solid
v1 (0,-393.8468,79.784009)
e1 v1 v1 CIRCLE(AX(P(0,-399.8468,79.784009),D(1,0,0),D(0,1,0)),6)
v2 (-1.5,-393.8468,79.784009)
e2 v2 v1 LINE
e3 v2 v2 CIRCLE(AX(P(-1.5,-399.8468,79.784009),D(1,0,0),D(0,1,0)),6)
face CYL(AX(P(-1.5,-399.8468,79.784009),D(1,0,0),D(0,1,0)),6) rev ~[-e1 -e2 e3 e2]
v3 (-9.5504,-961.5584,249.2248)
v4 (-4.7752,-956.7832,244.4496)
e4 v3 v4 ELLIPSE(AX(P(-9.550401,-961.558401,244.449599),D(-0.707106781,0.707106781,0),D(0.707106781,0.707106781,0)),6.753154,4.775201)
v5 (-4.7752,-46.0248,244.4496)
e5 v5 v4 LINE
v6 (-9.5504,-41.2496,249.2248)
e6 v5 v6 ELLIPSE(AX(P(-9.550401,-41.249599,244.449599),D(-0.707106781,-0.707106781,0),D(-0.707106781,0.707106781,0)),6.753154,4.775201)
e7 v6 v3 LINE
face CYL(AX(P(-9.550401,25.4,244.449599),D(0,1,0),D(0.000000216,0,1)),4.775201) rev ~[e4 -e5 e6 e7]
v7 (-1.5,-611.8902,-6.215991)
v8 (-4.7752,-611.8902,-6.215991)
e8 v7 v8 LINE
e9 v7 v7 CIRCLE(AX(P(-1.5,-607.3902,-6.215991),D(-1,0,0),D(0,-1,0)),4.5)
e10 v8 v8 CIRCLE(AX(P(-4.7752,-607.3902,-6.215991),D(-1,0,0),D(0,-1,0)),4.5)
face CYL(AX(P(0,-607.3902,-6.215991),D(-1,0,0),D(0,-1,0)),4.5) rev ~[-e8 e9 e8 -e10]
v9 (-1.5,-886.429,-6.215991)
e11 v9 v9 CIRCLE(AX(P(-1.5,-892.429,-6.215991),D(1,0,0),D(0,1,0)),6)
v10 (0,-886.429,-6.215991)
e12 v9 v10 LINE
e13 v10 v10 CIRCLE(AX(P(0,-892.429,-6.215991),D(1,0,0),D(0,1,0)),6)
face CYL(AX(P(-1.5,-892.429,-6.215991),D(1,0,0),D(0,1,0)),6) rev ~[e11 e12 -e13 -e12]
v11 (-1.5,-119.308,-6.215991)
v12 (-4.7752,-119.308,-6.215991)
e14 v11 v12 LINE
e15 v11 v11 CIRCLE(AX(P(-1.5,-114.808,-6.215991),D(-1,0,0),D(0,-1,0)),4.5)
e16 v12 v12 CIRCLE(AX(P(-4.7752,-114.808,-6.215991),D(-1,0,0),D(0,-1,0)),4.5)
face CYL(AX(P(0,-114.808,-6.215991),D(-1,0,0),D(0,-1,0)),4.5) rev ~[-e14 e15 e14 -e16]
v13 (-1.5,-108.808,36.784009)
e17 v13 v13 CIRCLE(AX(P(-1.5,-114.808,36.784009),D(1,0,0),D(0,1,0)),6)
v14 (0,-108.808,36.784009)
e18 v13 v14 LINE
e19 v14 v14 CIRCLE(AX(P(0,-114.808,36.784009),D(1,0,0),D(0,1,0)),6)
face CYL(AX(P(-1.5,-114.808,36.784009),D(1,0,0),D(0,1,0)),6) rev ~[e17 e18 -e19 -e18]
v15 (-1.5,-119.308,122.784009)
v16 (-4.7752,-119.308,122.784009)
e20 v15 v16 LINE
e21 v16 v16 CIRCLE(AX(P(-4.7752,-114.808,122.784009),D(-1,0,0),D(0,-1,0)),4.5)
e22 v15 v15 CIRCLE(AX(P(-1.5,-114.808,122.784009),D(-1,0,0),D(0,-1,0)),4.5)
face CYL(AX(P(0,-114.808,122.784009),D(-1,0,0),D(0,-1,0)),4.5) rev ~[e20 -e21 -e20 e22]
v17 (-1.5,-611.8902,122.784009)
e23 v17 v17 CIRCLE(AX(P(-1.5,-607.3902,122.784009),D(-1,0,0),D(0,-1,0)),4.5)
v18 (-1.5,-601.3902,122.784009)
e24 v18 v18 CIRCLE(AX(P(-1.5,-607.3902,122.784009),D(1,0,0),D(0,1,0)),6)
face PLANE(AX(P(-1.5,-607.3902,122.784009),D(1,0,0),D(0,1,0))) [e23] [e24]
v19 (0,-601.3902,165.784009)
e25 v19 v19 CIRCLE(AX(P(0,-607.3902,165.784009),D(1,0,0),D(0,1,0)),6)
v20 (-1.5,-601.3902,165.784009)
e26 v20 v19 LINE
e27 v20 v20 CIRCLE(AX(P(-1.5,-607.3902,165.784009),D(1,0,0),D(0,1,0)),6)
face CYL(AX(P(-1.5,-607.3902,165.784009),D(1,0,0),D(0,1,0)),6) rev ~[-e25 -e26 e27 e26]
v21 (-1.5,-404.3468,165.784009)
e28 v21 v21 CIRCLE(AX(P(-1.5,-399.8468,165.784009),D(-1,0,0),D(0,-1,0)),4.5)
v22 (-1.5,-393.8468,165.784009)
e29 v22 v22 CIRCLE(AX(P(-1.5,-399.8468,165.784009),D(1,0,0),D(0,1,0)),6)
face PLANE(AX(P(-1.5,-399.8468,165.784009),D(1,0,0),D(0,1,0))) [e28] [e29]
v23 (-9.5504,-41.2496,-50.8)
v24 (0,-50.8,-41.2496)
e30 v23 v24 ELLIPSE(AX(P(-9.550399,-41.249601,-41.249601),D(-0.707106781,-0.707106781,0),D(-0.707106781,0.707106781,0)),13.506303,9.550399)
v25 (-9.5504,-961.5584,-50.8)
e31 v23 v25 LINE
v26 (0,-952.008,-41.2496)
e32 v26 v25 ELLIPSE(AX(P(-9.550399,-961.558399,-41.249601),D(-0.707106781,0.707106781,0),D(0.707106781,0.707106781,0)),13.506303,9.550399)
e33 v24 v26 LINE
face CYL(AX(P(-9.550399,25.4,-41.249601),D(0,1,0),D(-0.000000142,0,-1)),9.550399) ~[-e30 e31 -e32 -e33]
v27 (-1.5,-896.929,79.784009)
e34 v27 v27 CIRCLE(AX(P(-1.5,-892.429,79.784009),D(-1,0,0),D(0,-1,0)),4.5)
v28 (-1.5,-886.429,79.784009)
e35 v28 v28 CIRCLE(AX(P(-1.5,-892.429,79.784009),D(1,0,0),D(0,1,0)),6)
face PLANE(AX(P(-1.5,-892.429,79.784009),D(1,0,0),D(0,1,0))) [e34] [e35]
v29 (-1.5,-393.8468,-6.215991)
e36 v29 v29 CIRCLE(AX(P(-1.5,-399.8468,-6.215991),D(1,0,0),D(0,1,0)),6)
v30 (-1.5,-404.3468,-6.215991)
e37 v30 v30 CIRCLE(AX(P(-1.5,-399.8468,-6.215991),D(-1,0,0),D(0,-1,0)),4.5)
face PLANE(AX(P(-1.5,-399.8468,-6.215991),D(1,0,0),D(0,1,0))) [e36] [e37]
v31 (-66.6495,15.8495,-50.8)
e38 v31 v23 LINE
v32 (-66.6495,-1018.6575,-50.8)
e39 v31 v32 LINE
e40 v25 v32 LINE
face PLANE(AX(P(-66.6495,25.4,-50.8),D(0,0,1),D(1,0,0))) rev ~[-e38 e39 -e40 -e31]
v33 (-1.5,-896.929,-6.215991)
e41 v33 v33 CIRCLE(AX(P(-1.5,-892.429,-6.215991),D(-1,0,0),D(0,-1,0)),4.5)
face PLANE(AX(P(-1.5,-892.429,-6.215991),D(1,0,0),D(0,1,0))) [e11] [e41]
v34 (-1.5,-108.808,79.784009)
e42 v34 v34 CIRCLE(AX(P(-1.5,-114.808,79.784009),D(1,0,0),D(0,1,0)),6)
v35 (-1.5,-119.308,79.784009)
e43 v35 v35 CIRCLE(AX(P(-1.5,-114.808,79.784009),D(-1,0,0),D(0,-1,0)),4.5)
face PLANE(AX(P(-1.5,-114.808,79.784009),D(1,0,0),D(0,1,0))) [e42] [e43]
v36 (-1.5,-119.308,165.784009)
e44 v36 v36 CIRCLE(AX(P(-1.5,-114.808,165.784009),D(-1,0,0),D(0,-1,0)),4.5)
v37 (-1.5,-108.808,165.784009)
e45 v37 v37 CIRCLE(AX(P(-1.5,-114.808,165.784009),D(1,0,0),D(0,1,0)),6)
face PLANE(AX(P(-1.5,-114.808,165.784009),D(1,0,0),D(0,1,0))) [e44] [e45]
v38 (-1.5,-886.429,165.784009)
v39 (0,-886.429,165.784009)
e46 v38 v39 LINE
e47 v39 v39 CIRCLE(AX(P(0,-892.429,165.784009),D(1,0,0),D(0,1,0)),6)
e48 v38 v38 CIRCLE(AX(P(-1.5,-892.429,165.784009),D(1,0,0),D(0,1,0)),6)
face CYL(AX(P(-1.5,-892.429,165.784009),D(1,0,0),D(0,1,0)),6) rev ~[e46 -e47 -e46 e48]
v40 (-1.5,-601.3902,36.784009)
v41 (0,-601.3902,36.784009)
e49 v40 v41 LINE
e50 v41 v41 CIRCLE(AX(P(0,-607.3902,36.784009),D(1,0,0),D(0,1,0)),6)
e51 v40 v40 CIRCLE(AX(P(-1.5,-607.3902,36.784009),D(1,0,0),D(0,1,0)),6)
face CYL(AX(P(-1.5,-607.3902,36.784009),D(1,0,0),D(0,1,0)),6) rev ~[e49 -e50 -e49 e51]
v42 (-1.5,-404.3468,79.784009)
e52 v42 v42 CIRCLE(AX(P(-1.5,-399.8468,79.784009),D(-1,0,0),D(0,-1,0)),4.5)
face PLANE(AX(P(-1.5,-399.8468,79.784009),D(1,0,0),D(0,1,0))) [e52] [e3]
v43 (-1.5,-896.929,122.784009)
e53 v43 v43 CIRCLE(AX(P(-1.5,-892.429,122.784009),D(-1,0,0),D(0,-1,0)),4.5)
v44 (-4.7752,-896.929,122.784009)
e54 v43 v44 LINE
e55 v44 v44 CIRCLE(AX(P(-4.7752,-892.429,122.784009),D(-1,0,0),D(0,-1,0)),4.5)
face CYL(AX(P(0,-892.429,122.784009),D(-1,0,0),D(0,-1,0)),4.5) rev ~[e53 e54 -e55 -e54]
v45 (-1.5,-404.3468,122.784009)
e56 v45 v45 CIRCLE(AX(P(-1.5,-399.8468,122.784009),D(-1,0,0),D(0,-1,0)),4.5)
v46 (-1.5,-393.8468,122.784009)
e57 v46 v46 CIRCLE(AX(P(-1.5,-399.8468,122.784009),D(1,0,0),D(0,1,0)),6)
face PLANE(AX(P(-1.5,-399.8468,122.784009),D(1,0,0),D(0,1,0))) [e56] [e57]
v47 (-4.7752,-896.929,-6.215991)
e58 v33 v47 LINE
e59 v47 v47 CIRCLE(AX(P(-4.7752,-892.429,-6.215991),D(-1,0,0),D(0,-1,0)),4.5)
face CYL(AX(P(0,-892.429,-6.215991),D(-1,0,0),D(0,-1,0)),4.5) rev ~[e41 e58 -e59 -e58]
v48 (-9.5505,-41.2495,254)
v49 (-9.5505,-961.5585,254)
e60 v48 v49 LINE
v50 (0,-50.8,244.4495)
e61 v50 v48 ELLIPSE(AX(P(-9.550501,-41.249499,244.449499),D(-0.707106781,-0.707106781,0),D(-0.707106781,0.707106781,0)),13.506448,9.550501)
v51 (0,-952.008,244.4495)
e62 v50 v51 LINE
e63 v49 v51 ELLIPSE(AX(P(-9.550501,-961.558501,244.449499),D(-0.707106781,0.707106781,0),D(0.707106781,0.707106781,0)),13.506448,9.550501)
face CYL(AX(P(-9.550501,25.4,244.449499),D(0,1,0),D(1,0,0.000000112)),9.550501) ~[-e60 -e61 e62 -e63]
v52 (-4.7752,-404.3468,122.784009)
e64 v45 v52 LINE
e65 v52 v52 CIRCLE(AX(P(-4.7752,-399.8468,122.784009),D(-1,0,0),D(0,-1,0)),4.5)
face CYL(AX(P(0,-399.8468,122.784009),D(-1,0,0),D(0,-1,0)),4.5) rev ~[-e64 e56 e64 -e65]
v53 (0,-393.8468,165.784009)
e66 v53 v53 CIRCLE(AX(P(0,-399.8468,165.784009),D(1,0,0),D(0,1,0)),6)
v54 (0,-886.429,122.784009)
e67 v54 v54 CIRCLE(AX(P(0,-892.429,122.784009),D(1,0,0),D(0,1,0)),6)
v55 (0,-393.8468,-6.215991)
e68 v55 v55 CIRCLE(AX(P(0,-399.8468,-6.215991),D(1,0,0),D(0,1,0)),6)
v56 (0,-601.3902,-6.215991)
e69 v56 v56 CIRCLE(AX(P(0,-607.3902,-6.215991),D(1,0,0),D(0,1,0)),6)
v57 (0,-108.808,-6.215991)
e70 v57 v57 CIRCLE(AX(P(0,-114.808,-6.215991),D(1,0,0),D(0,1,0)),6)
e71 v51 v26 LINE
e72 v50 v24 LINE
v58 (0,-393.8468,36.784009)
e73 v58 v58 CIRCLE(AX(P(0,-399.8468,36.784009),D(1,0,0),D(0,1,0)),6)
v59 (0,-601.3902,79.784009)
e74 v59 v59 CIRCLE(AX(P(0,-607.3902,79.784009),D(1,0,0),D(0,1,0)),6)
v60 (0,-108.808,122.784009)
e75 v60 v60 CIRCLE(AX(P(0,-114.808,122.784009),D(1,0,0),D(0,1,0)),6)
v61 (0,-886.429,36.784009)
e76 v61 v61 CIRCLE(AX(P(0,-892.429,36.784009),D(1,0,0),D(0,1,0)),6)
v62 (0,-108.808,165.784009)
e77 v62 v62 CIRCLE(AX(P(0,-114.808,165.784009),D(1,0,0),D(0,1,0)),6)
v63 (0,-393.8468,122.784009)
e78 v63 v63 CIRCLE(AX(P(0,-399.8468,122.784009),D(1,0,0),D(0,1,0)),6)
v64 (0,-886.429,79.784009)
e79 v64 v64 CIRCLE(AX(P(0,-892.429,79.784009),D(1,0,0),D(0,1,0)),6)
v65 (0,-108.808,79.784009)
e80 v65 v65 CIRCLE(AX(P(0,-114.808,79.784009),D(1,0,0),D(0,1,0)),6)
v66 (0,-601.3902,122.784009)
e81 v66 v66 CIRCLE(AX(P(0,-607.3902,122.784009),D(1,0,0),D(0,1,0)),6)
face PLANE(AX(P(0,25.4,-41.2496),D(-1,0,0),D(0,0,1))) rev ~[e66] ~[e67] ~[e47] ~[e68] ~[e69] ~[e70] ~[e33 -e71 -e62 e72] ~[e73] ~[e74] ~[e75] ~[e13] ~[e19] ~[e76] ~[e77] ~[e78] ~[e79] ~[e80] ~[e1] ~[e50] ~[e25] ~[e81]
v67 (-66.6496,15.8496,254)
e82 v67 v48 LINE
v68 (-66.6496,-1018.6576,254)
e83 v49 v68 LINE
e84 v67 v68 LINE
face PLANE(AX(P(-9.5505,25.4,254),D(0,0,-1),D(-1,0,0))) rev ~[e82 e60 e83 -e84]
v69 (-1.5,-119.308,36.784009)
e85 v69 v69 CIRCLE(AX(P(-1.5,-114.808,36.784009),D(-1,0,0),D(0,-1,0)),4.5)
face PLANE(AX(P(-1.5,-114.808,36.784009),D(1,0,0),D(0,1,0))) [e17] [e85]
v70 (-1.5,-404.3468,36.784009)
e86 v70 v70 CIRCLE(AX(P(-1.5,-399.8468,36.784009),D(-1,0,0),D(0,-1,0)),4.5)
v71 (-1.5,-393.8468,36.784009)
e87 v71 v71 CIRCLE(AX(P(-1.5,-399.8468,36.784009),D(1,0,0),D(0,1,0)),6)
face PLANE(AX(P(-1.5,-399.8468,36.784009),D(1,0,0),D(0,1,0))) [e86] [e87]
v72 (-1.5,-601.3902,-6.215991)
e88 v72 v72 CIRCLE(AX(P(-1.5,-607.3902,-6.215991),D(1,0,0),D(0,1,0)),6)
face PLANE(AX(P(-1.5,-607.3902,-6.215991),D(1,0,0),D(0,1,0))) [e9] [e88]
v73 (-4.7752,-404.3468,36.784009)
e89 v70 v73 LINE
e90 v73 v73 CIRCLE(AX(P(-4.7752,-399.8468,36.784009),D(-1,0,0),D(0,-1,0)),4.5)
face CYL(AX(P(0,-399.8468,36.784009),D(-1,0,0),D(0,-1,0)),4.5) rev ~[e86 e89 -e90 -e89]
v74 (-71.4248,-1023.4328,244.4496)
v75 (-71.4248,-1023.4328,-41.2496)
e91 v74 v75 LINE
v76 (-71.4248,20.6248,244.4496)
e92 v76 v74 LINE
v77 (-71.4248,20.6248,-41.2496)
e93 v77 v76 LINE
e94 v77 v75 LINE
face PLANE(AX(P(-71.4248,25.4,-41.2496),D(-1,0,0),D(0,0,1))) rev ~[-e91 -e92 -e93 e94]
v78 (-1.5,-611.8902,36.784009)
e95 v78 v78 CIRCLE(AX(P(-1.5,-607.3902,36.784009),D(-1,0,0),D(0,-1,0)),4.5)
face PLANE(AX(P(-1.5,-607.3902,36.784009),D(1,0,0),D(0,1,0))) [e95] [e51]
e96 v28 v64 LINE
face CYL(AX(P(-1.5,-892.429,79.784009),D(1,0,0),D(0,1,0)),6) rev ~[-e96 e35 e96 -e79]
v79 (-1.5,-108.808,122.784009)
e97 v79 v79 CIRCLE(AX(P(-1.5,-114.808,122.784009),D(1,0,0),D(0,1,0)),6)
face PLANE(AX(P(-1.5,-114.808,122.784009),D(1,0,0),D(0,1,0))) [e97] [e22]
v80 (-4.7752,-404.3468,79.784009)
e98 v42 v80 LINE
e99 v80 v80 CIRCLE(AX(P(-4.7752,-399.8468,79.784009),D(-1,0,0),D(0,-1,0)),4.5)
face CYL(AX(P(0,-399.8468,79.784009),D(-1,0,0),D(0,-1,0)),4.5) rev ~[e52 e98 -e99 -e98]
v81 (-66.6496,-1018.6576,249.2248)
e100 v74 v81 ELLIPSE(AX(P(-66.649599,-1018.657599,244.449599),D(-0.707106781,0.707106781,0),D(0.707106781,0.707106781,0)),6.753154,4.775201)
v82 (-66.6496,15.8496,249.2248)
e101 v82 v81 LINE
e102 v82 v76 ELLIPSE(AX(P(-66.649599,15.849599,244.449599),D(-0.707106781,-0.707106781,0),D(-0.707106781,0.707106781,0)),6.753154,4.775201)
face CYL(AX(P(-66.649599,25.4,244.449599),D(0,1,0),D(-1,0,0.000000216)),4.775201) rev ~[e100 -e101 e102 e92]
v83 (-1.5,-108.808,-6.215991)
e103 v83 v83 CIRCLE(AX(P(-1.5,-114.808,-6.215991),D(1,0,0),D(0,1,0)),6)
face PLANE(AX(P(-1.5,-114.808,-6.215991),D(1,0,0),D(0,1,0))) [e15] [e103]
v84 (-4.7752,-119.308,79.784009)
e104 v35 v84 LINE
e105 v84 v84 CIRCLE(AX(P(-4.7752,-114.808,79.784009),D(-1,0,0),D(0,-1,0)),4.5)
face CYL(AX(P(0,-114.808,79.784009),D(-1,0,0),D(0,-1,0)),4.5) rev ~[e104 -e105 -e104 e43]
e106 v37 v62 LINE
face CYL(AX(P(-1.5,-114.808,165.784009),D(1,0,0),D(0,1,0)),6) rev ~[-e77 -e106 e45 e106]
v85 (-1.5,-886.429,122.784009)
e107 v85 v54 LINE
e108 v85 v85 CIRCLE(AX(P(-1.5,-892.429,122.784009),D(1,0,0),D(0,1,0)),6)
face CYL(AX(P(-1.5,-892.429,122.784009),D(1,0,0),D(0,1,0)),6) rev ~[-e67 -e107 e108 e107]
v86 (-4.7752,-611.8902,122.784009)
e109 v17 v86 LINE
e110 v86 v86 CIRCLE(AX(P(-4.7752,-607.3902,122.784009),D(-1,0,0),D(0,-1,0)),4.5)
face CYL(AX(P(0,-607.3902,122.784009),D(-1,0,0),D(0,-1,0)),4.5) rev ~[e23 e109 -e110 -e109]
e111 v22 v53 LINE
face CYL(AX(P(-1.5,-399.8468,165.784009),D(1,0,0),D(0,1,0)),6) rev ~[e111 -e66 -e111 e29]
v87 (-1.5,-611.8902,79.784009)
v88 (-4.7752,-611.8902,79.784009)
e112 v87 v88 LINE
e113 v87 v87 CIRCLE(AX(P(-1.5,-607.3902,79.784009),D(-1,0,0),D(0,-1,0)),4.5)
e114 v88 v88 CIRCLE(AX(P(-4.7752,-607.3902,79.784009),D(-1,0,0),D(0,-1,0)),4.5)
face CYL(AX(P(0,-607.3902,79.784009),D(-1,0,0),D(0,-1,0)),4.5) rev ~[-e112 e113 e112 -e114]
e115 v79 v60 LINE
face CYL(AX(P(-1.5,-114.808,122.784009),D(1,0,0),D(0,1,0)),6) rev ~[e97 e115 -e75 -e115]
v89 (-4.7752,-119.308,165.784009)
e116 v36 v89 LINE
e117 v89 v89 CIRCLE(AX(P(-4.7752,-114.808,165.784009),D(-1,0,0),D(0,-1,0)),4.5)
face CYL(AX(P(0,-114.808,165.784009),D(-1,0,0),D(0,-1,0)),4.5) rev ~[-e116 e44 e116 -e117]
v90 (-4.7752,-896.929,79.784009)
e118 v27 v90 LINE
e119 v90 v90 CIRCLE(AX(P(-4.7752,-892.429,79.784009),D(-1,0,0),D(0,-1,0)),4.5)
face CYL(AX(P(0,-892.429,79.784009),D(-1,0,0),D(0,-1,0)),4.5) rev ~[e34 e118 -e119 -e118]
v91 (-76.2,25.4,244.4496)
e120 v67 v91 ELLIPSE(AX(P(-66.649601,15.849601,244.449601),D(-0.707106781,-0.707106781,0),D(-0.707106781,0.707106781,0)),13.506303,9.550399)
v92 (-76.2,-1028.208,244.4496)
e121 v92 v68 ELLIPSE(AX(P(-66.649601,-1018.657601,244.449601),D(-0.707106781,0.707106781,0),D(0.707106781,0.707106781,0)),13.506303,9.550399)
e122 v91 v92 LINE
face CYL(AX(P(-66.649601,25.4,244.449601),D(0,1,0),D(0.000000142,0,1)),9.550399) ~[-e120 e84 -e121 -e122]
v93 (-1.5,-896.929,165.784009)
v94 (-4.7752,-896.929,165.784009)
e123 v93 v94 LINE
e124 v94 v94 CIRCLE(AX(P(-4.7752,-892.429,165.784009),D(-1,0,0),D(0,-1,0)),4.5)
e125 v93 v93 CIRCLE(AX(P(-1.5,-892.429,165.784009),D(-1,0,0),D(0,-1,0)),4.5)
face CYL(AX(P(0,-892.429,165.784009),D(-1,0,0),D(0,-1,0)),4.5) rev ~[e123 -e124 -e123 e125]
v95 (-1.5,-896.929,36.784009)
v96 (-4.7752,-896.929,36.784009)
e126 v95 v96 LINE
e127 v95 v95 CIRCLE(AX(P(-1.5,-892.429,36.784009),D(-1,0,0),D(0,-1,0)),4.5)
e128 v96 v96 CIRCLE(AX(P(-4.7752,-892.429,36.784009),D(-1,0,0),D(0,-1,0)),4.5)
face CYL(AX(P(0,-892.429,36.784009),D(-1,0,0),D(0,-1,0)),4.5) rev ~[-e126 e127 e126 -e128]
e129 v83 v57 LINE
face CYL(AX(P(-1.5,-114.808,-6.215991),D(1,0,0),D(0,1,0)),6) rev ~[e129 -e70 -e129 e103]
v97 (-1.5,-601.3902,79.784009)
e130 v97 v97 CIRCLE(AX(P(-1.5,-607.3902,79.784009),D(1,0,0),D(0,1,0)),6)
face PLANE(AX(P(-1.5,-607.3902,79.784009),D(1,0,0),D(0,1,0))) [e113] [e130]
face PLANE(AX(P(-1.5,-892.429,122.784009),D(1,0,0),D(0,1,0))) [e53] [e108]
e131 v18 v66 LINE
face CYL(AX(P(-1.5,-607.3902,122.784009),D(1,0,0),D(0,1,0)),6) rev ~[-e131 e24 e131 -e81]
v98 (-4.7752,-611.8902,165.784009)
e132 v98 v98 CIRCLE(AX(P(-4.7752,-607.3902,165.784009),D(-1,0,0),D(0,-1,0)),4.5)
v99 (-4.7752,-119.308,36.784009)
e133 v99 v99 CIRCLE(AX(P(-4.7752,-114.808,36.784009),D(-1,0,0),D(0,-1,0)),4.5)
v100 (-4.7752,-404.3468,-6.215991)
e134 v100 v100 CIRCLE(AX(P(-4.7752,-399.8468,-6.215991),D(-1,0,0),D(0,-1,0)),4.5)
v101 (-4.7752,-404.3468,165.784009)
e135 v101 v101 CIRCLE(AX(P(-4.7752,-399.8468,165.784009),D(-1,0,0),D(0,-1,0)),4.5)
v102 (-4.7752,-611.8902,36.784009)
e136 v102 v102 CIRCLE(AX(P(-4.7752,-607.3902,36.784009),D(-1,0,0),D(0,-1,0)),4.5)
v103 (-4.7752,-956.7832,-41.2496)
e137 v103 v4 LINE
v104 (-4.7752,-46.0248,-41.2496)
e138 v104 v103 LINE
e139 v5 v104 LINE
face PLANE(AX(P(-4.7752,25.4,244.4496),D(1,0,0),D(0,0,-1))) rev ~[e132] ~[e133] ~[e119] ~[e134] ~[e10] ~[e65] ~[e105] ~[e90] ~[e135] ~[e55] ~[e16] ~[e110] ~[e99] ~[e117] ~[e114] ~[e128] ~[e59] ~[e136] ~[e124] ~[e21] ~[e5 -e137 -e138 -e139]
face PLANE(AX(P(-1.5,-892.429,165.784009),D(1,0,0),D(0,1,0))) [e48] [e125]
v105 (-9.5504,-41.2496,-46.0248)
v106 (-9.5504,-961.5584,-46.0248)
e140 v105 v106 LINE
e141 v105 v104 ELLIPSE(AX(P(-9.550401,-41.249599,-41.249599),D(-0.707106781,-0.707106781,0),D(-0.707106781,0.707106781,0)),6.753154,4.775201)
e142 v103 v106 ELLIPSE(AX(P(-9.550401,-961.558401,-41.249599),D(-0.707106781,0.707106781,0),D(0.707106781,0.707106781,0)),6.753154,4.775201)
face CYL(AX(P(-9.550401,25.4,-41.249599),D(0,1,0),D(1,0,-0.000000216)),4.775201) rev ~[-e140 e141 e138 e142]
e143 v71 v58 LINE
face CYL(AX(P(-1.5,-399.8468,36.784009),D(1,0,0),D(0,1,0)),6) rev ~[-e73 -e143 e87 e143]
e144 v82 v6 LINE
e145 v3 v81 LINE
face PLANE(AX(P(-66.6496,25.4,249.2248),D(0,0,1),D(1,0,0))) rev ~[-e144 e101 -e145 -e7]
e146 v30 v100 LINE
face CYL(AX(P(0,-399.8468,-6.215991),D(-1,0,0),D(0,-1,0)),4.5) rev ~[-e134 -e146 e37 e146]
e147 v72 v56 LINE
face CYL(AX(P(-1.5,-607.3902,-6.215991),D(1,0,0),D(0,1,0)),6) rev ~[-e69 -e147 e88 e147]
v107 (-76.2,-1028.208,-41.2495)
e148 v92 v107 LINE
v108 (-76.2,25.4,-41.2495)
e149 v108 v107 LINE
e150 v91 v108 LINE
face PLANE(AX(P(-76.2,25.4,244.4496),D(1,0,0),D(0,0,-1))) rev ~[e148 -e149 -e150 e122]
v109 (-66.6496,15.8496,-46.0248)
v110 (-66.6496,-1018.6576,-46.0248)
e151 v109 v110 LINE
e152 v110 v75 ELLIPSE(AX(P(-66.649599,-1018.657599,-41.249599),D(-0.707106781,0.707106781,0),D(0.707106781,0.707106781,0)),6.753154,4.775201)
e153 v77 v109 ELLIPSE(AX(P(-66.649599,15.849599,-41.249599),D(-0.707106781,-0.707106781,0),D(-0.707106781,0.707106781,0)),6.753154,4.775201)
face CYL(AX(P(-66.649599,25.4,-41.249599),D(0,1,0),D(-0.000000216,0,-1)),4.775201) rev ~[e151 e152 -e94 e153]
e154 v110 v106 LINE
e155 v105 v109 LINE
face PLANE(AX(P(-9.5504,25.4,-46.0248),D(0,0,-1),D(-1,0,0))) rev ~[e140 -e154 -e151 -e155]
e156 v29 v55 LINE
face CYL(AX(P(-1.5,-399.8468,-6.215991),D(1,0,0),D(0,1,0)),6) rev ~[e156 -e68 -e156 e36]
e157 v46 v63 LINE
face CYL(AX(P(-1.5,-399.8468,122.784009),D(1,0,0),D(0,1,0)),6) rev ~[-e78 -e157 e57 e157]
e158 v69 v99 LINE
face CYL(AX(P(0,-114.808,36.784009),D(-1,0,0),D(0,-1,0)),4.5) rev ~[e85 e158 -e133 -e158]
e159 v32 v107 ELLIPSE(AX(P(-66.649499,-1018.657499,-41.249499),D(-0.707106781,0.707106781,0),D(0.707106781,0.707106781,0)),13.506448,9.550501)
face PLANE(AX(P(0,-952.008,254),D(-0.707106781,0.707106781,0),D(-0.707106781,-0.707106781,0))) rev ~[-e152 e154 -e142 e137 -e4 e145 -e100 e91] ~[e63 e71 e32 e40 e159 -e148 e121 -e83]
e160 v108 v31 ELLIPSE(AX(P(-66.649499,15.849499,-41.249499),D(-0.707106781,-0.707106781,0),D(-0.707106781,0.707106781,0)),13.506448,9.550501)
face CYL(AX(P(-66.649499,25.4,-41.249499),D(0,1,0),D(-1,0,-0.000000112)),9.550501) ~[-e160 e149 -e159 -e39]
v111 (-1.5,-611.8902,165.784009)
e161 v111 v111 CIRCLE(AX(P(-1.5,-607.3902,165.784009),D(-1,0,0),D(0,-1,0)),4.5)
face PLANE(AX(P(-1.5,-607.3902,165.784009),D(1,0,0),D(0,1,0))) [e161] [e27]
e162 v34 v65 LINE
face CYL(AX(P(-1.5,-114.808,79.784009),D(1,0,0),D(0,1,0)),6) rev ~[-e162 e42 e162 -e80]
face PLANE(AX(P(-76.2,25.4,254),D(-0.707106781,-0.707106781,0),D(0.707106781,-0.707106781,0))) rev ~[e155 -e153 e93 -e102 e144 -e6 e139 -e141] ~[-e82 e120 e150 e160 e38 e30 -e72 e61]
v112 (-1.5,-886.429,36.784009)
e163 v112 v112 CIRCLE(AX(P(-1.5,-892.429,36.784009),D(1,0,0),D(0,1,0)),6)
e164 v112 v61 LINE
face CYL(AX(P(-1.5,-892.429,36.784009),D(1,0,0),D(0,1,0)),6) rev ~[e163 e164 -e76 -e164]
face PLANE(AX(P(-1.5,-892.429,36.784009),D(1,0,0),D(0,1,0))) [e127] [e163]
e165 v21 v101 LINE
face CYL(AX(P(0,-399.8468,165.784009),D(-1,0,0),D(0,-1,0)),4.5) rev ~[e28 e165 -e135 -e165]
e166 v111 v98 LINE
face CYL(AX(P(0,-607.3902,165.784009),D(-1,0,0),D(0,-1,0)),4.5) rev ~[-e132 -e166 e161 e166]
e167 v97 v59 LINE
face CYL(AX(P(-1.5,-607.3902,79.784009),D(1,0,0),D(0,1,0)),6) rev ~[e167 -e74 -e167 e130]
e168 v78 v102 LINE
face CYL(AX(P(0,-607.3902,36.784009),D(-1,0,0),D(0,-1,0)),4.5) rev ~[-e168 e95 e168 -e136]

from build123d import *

# Parameters (mm, degrees)
F1_DEPTH       = 1121.496
F3_DEPTH       = 304.801
F6_D           = 9
F6_DEPTH       = 10
F6_CBORE_D     = 12
F6_CBORE_DEPTH = 1.5
F8_DEPTH       = 304.8


with BuildPart() as f1:
    # F0 (on Front) → F1 (new body)
    with BuildSketch(Plane.XZ):
        with BuildLine():
            Line((-66.6495, -50.8), (-9.5504, -50.8))
            ThreePointArc((-9.5504, -50.8), (-2.797247, -48.002753), (0, -41.2496))
            Line((0, -41.2496), (0, 244.4495))
            ThreePointArc((0, 244.4495), (-2.797277, 251.202723), (-9.5505, 254))
            Line((-9.5505, 254), (-66.6496, 254))
            ThreePointArc((-66.6496, 254), (-73.402753, 251.202753), (-76.2, 244.4496))
            Line((-76.2, 244.4496), (-76.2, -41.2495))
            ThreePointArc((-76.2, -41.2495), (-73.402723, -48.002723), (-66.6495, -50.8))
        make_face()
        with BuildLine():
            ThreePointArc((-71.4248, 244.4496), (-70.026176, 247.826176), (-66.6496, 249.2248))
            Line((-66.6496, 249.2248), (-9.5504, 249.2248))
            ThreePointArc((-9.5504, 249.2248), (-6.173824, 247.826176), (-4.7752, 244.4496))
            Line((-4.7752, 244.4496), (-4.7752, -41.2496))
            ThreePointArc((-4.7752, -41.2496), (-6.173824, -44.626176), (-9.5504, -46.0248))
            Line((-9.5504, -46.0248), (-66.6496, -46.0248))
            ThreePointArc((-66.6496, -46.0248), (-70.026176, -44.626176), (-71.4248, -41.2496))
            Line((-71.4248, -41.2496), (-71.4248, 244.4496))
        make_face(mode=Mode.SUBTRACT)
    extrude(amount=F1_DEPTH)

    # F2 (on face) → F3 (cut, through all)
    with BuildSketch(Plane.XY.offset(254)):
        Polygon((0, 0), (-76.2, 0), (0, -76.2), align=None)
        Polygon((0, -1045.296), (-76.2, -1121.496), (0, -1121.496), align=None)
    extrude(amount=-F3_DEPTH, mode=Mode.SUBTRACT)


with BuildPart() as f1_1:
    # F4: moved
    add(f1.part.moved(Location((0, 25.4, 0))))

    # F6
    with Locations(Plane.YZ):
        with Locations((-892.429, 165.784009), (-892.429, 122.784009), (-892.429, 79.784009), (-892.429, 36.784009), (-892.429, -6.215991), (-607.3902, 165.784009), (-607.3902, 122.784009), (-607.3902, 79.784009), (-607.3902, 36.784009), (-607.3902, -6.215991), (-399.8468, 165.784009), (-399.8468, 122.784009), (-399.8468, 79.784009), (-399.8468, 36.784009), (-399.8468, -6.215991), (-114.808, 165.784009), (-114.808, 122.784009), (-114.808, 79.784009), (-114.808, 36.784009), (-114.808, -6.215991)):
            CounterBoreHole(F6_D / 2, F6_CBORE_D / 2, F6_CBORE_DEPTH, depth=F6_DEPTH)

    # F7 (on face) → F8 (cut, through all)
    with BuildSketch(Plane.XY.offset(254)):
        Polygon((0, -952.008), (-76.2, -1028.208), (-76.2, -1096.096), (0, -1096.096), align=None)
    extrude(amount=-F8_DEPTH, mode=Mode.SUBTRACT)


solid = f1_1.part
